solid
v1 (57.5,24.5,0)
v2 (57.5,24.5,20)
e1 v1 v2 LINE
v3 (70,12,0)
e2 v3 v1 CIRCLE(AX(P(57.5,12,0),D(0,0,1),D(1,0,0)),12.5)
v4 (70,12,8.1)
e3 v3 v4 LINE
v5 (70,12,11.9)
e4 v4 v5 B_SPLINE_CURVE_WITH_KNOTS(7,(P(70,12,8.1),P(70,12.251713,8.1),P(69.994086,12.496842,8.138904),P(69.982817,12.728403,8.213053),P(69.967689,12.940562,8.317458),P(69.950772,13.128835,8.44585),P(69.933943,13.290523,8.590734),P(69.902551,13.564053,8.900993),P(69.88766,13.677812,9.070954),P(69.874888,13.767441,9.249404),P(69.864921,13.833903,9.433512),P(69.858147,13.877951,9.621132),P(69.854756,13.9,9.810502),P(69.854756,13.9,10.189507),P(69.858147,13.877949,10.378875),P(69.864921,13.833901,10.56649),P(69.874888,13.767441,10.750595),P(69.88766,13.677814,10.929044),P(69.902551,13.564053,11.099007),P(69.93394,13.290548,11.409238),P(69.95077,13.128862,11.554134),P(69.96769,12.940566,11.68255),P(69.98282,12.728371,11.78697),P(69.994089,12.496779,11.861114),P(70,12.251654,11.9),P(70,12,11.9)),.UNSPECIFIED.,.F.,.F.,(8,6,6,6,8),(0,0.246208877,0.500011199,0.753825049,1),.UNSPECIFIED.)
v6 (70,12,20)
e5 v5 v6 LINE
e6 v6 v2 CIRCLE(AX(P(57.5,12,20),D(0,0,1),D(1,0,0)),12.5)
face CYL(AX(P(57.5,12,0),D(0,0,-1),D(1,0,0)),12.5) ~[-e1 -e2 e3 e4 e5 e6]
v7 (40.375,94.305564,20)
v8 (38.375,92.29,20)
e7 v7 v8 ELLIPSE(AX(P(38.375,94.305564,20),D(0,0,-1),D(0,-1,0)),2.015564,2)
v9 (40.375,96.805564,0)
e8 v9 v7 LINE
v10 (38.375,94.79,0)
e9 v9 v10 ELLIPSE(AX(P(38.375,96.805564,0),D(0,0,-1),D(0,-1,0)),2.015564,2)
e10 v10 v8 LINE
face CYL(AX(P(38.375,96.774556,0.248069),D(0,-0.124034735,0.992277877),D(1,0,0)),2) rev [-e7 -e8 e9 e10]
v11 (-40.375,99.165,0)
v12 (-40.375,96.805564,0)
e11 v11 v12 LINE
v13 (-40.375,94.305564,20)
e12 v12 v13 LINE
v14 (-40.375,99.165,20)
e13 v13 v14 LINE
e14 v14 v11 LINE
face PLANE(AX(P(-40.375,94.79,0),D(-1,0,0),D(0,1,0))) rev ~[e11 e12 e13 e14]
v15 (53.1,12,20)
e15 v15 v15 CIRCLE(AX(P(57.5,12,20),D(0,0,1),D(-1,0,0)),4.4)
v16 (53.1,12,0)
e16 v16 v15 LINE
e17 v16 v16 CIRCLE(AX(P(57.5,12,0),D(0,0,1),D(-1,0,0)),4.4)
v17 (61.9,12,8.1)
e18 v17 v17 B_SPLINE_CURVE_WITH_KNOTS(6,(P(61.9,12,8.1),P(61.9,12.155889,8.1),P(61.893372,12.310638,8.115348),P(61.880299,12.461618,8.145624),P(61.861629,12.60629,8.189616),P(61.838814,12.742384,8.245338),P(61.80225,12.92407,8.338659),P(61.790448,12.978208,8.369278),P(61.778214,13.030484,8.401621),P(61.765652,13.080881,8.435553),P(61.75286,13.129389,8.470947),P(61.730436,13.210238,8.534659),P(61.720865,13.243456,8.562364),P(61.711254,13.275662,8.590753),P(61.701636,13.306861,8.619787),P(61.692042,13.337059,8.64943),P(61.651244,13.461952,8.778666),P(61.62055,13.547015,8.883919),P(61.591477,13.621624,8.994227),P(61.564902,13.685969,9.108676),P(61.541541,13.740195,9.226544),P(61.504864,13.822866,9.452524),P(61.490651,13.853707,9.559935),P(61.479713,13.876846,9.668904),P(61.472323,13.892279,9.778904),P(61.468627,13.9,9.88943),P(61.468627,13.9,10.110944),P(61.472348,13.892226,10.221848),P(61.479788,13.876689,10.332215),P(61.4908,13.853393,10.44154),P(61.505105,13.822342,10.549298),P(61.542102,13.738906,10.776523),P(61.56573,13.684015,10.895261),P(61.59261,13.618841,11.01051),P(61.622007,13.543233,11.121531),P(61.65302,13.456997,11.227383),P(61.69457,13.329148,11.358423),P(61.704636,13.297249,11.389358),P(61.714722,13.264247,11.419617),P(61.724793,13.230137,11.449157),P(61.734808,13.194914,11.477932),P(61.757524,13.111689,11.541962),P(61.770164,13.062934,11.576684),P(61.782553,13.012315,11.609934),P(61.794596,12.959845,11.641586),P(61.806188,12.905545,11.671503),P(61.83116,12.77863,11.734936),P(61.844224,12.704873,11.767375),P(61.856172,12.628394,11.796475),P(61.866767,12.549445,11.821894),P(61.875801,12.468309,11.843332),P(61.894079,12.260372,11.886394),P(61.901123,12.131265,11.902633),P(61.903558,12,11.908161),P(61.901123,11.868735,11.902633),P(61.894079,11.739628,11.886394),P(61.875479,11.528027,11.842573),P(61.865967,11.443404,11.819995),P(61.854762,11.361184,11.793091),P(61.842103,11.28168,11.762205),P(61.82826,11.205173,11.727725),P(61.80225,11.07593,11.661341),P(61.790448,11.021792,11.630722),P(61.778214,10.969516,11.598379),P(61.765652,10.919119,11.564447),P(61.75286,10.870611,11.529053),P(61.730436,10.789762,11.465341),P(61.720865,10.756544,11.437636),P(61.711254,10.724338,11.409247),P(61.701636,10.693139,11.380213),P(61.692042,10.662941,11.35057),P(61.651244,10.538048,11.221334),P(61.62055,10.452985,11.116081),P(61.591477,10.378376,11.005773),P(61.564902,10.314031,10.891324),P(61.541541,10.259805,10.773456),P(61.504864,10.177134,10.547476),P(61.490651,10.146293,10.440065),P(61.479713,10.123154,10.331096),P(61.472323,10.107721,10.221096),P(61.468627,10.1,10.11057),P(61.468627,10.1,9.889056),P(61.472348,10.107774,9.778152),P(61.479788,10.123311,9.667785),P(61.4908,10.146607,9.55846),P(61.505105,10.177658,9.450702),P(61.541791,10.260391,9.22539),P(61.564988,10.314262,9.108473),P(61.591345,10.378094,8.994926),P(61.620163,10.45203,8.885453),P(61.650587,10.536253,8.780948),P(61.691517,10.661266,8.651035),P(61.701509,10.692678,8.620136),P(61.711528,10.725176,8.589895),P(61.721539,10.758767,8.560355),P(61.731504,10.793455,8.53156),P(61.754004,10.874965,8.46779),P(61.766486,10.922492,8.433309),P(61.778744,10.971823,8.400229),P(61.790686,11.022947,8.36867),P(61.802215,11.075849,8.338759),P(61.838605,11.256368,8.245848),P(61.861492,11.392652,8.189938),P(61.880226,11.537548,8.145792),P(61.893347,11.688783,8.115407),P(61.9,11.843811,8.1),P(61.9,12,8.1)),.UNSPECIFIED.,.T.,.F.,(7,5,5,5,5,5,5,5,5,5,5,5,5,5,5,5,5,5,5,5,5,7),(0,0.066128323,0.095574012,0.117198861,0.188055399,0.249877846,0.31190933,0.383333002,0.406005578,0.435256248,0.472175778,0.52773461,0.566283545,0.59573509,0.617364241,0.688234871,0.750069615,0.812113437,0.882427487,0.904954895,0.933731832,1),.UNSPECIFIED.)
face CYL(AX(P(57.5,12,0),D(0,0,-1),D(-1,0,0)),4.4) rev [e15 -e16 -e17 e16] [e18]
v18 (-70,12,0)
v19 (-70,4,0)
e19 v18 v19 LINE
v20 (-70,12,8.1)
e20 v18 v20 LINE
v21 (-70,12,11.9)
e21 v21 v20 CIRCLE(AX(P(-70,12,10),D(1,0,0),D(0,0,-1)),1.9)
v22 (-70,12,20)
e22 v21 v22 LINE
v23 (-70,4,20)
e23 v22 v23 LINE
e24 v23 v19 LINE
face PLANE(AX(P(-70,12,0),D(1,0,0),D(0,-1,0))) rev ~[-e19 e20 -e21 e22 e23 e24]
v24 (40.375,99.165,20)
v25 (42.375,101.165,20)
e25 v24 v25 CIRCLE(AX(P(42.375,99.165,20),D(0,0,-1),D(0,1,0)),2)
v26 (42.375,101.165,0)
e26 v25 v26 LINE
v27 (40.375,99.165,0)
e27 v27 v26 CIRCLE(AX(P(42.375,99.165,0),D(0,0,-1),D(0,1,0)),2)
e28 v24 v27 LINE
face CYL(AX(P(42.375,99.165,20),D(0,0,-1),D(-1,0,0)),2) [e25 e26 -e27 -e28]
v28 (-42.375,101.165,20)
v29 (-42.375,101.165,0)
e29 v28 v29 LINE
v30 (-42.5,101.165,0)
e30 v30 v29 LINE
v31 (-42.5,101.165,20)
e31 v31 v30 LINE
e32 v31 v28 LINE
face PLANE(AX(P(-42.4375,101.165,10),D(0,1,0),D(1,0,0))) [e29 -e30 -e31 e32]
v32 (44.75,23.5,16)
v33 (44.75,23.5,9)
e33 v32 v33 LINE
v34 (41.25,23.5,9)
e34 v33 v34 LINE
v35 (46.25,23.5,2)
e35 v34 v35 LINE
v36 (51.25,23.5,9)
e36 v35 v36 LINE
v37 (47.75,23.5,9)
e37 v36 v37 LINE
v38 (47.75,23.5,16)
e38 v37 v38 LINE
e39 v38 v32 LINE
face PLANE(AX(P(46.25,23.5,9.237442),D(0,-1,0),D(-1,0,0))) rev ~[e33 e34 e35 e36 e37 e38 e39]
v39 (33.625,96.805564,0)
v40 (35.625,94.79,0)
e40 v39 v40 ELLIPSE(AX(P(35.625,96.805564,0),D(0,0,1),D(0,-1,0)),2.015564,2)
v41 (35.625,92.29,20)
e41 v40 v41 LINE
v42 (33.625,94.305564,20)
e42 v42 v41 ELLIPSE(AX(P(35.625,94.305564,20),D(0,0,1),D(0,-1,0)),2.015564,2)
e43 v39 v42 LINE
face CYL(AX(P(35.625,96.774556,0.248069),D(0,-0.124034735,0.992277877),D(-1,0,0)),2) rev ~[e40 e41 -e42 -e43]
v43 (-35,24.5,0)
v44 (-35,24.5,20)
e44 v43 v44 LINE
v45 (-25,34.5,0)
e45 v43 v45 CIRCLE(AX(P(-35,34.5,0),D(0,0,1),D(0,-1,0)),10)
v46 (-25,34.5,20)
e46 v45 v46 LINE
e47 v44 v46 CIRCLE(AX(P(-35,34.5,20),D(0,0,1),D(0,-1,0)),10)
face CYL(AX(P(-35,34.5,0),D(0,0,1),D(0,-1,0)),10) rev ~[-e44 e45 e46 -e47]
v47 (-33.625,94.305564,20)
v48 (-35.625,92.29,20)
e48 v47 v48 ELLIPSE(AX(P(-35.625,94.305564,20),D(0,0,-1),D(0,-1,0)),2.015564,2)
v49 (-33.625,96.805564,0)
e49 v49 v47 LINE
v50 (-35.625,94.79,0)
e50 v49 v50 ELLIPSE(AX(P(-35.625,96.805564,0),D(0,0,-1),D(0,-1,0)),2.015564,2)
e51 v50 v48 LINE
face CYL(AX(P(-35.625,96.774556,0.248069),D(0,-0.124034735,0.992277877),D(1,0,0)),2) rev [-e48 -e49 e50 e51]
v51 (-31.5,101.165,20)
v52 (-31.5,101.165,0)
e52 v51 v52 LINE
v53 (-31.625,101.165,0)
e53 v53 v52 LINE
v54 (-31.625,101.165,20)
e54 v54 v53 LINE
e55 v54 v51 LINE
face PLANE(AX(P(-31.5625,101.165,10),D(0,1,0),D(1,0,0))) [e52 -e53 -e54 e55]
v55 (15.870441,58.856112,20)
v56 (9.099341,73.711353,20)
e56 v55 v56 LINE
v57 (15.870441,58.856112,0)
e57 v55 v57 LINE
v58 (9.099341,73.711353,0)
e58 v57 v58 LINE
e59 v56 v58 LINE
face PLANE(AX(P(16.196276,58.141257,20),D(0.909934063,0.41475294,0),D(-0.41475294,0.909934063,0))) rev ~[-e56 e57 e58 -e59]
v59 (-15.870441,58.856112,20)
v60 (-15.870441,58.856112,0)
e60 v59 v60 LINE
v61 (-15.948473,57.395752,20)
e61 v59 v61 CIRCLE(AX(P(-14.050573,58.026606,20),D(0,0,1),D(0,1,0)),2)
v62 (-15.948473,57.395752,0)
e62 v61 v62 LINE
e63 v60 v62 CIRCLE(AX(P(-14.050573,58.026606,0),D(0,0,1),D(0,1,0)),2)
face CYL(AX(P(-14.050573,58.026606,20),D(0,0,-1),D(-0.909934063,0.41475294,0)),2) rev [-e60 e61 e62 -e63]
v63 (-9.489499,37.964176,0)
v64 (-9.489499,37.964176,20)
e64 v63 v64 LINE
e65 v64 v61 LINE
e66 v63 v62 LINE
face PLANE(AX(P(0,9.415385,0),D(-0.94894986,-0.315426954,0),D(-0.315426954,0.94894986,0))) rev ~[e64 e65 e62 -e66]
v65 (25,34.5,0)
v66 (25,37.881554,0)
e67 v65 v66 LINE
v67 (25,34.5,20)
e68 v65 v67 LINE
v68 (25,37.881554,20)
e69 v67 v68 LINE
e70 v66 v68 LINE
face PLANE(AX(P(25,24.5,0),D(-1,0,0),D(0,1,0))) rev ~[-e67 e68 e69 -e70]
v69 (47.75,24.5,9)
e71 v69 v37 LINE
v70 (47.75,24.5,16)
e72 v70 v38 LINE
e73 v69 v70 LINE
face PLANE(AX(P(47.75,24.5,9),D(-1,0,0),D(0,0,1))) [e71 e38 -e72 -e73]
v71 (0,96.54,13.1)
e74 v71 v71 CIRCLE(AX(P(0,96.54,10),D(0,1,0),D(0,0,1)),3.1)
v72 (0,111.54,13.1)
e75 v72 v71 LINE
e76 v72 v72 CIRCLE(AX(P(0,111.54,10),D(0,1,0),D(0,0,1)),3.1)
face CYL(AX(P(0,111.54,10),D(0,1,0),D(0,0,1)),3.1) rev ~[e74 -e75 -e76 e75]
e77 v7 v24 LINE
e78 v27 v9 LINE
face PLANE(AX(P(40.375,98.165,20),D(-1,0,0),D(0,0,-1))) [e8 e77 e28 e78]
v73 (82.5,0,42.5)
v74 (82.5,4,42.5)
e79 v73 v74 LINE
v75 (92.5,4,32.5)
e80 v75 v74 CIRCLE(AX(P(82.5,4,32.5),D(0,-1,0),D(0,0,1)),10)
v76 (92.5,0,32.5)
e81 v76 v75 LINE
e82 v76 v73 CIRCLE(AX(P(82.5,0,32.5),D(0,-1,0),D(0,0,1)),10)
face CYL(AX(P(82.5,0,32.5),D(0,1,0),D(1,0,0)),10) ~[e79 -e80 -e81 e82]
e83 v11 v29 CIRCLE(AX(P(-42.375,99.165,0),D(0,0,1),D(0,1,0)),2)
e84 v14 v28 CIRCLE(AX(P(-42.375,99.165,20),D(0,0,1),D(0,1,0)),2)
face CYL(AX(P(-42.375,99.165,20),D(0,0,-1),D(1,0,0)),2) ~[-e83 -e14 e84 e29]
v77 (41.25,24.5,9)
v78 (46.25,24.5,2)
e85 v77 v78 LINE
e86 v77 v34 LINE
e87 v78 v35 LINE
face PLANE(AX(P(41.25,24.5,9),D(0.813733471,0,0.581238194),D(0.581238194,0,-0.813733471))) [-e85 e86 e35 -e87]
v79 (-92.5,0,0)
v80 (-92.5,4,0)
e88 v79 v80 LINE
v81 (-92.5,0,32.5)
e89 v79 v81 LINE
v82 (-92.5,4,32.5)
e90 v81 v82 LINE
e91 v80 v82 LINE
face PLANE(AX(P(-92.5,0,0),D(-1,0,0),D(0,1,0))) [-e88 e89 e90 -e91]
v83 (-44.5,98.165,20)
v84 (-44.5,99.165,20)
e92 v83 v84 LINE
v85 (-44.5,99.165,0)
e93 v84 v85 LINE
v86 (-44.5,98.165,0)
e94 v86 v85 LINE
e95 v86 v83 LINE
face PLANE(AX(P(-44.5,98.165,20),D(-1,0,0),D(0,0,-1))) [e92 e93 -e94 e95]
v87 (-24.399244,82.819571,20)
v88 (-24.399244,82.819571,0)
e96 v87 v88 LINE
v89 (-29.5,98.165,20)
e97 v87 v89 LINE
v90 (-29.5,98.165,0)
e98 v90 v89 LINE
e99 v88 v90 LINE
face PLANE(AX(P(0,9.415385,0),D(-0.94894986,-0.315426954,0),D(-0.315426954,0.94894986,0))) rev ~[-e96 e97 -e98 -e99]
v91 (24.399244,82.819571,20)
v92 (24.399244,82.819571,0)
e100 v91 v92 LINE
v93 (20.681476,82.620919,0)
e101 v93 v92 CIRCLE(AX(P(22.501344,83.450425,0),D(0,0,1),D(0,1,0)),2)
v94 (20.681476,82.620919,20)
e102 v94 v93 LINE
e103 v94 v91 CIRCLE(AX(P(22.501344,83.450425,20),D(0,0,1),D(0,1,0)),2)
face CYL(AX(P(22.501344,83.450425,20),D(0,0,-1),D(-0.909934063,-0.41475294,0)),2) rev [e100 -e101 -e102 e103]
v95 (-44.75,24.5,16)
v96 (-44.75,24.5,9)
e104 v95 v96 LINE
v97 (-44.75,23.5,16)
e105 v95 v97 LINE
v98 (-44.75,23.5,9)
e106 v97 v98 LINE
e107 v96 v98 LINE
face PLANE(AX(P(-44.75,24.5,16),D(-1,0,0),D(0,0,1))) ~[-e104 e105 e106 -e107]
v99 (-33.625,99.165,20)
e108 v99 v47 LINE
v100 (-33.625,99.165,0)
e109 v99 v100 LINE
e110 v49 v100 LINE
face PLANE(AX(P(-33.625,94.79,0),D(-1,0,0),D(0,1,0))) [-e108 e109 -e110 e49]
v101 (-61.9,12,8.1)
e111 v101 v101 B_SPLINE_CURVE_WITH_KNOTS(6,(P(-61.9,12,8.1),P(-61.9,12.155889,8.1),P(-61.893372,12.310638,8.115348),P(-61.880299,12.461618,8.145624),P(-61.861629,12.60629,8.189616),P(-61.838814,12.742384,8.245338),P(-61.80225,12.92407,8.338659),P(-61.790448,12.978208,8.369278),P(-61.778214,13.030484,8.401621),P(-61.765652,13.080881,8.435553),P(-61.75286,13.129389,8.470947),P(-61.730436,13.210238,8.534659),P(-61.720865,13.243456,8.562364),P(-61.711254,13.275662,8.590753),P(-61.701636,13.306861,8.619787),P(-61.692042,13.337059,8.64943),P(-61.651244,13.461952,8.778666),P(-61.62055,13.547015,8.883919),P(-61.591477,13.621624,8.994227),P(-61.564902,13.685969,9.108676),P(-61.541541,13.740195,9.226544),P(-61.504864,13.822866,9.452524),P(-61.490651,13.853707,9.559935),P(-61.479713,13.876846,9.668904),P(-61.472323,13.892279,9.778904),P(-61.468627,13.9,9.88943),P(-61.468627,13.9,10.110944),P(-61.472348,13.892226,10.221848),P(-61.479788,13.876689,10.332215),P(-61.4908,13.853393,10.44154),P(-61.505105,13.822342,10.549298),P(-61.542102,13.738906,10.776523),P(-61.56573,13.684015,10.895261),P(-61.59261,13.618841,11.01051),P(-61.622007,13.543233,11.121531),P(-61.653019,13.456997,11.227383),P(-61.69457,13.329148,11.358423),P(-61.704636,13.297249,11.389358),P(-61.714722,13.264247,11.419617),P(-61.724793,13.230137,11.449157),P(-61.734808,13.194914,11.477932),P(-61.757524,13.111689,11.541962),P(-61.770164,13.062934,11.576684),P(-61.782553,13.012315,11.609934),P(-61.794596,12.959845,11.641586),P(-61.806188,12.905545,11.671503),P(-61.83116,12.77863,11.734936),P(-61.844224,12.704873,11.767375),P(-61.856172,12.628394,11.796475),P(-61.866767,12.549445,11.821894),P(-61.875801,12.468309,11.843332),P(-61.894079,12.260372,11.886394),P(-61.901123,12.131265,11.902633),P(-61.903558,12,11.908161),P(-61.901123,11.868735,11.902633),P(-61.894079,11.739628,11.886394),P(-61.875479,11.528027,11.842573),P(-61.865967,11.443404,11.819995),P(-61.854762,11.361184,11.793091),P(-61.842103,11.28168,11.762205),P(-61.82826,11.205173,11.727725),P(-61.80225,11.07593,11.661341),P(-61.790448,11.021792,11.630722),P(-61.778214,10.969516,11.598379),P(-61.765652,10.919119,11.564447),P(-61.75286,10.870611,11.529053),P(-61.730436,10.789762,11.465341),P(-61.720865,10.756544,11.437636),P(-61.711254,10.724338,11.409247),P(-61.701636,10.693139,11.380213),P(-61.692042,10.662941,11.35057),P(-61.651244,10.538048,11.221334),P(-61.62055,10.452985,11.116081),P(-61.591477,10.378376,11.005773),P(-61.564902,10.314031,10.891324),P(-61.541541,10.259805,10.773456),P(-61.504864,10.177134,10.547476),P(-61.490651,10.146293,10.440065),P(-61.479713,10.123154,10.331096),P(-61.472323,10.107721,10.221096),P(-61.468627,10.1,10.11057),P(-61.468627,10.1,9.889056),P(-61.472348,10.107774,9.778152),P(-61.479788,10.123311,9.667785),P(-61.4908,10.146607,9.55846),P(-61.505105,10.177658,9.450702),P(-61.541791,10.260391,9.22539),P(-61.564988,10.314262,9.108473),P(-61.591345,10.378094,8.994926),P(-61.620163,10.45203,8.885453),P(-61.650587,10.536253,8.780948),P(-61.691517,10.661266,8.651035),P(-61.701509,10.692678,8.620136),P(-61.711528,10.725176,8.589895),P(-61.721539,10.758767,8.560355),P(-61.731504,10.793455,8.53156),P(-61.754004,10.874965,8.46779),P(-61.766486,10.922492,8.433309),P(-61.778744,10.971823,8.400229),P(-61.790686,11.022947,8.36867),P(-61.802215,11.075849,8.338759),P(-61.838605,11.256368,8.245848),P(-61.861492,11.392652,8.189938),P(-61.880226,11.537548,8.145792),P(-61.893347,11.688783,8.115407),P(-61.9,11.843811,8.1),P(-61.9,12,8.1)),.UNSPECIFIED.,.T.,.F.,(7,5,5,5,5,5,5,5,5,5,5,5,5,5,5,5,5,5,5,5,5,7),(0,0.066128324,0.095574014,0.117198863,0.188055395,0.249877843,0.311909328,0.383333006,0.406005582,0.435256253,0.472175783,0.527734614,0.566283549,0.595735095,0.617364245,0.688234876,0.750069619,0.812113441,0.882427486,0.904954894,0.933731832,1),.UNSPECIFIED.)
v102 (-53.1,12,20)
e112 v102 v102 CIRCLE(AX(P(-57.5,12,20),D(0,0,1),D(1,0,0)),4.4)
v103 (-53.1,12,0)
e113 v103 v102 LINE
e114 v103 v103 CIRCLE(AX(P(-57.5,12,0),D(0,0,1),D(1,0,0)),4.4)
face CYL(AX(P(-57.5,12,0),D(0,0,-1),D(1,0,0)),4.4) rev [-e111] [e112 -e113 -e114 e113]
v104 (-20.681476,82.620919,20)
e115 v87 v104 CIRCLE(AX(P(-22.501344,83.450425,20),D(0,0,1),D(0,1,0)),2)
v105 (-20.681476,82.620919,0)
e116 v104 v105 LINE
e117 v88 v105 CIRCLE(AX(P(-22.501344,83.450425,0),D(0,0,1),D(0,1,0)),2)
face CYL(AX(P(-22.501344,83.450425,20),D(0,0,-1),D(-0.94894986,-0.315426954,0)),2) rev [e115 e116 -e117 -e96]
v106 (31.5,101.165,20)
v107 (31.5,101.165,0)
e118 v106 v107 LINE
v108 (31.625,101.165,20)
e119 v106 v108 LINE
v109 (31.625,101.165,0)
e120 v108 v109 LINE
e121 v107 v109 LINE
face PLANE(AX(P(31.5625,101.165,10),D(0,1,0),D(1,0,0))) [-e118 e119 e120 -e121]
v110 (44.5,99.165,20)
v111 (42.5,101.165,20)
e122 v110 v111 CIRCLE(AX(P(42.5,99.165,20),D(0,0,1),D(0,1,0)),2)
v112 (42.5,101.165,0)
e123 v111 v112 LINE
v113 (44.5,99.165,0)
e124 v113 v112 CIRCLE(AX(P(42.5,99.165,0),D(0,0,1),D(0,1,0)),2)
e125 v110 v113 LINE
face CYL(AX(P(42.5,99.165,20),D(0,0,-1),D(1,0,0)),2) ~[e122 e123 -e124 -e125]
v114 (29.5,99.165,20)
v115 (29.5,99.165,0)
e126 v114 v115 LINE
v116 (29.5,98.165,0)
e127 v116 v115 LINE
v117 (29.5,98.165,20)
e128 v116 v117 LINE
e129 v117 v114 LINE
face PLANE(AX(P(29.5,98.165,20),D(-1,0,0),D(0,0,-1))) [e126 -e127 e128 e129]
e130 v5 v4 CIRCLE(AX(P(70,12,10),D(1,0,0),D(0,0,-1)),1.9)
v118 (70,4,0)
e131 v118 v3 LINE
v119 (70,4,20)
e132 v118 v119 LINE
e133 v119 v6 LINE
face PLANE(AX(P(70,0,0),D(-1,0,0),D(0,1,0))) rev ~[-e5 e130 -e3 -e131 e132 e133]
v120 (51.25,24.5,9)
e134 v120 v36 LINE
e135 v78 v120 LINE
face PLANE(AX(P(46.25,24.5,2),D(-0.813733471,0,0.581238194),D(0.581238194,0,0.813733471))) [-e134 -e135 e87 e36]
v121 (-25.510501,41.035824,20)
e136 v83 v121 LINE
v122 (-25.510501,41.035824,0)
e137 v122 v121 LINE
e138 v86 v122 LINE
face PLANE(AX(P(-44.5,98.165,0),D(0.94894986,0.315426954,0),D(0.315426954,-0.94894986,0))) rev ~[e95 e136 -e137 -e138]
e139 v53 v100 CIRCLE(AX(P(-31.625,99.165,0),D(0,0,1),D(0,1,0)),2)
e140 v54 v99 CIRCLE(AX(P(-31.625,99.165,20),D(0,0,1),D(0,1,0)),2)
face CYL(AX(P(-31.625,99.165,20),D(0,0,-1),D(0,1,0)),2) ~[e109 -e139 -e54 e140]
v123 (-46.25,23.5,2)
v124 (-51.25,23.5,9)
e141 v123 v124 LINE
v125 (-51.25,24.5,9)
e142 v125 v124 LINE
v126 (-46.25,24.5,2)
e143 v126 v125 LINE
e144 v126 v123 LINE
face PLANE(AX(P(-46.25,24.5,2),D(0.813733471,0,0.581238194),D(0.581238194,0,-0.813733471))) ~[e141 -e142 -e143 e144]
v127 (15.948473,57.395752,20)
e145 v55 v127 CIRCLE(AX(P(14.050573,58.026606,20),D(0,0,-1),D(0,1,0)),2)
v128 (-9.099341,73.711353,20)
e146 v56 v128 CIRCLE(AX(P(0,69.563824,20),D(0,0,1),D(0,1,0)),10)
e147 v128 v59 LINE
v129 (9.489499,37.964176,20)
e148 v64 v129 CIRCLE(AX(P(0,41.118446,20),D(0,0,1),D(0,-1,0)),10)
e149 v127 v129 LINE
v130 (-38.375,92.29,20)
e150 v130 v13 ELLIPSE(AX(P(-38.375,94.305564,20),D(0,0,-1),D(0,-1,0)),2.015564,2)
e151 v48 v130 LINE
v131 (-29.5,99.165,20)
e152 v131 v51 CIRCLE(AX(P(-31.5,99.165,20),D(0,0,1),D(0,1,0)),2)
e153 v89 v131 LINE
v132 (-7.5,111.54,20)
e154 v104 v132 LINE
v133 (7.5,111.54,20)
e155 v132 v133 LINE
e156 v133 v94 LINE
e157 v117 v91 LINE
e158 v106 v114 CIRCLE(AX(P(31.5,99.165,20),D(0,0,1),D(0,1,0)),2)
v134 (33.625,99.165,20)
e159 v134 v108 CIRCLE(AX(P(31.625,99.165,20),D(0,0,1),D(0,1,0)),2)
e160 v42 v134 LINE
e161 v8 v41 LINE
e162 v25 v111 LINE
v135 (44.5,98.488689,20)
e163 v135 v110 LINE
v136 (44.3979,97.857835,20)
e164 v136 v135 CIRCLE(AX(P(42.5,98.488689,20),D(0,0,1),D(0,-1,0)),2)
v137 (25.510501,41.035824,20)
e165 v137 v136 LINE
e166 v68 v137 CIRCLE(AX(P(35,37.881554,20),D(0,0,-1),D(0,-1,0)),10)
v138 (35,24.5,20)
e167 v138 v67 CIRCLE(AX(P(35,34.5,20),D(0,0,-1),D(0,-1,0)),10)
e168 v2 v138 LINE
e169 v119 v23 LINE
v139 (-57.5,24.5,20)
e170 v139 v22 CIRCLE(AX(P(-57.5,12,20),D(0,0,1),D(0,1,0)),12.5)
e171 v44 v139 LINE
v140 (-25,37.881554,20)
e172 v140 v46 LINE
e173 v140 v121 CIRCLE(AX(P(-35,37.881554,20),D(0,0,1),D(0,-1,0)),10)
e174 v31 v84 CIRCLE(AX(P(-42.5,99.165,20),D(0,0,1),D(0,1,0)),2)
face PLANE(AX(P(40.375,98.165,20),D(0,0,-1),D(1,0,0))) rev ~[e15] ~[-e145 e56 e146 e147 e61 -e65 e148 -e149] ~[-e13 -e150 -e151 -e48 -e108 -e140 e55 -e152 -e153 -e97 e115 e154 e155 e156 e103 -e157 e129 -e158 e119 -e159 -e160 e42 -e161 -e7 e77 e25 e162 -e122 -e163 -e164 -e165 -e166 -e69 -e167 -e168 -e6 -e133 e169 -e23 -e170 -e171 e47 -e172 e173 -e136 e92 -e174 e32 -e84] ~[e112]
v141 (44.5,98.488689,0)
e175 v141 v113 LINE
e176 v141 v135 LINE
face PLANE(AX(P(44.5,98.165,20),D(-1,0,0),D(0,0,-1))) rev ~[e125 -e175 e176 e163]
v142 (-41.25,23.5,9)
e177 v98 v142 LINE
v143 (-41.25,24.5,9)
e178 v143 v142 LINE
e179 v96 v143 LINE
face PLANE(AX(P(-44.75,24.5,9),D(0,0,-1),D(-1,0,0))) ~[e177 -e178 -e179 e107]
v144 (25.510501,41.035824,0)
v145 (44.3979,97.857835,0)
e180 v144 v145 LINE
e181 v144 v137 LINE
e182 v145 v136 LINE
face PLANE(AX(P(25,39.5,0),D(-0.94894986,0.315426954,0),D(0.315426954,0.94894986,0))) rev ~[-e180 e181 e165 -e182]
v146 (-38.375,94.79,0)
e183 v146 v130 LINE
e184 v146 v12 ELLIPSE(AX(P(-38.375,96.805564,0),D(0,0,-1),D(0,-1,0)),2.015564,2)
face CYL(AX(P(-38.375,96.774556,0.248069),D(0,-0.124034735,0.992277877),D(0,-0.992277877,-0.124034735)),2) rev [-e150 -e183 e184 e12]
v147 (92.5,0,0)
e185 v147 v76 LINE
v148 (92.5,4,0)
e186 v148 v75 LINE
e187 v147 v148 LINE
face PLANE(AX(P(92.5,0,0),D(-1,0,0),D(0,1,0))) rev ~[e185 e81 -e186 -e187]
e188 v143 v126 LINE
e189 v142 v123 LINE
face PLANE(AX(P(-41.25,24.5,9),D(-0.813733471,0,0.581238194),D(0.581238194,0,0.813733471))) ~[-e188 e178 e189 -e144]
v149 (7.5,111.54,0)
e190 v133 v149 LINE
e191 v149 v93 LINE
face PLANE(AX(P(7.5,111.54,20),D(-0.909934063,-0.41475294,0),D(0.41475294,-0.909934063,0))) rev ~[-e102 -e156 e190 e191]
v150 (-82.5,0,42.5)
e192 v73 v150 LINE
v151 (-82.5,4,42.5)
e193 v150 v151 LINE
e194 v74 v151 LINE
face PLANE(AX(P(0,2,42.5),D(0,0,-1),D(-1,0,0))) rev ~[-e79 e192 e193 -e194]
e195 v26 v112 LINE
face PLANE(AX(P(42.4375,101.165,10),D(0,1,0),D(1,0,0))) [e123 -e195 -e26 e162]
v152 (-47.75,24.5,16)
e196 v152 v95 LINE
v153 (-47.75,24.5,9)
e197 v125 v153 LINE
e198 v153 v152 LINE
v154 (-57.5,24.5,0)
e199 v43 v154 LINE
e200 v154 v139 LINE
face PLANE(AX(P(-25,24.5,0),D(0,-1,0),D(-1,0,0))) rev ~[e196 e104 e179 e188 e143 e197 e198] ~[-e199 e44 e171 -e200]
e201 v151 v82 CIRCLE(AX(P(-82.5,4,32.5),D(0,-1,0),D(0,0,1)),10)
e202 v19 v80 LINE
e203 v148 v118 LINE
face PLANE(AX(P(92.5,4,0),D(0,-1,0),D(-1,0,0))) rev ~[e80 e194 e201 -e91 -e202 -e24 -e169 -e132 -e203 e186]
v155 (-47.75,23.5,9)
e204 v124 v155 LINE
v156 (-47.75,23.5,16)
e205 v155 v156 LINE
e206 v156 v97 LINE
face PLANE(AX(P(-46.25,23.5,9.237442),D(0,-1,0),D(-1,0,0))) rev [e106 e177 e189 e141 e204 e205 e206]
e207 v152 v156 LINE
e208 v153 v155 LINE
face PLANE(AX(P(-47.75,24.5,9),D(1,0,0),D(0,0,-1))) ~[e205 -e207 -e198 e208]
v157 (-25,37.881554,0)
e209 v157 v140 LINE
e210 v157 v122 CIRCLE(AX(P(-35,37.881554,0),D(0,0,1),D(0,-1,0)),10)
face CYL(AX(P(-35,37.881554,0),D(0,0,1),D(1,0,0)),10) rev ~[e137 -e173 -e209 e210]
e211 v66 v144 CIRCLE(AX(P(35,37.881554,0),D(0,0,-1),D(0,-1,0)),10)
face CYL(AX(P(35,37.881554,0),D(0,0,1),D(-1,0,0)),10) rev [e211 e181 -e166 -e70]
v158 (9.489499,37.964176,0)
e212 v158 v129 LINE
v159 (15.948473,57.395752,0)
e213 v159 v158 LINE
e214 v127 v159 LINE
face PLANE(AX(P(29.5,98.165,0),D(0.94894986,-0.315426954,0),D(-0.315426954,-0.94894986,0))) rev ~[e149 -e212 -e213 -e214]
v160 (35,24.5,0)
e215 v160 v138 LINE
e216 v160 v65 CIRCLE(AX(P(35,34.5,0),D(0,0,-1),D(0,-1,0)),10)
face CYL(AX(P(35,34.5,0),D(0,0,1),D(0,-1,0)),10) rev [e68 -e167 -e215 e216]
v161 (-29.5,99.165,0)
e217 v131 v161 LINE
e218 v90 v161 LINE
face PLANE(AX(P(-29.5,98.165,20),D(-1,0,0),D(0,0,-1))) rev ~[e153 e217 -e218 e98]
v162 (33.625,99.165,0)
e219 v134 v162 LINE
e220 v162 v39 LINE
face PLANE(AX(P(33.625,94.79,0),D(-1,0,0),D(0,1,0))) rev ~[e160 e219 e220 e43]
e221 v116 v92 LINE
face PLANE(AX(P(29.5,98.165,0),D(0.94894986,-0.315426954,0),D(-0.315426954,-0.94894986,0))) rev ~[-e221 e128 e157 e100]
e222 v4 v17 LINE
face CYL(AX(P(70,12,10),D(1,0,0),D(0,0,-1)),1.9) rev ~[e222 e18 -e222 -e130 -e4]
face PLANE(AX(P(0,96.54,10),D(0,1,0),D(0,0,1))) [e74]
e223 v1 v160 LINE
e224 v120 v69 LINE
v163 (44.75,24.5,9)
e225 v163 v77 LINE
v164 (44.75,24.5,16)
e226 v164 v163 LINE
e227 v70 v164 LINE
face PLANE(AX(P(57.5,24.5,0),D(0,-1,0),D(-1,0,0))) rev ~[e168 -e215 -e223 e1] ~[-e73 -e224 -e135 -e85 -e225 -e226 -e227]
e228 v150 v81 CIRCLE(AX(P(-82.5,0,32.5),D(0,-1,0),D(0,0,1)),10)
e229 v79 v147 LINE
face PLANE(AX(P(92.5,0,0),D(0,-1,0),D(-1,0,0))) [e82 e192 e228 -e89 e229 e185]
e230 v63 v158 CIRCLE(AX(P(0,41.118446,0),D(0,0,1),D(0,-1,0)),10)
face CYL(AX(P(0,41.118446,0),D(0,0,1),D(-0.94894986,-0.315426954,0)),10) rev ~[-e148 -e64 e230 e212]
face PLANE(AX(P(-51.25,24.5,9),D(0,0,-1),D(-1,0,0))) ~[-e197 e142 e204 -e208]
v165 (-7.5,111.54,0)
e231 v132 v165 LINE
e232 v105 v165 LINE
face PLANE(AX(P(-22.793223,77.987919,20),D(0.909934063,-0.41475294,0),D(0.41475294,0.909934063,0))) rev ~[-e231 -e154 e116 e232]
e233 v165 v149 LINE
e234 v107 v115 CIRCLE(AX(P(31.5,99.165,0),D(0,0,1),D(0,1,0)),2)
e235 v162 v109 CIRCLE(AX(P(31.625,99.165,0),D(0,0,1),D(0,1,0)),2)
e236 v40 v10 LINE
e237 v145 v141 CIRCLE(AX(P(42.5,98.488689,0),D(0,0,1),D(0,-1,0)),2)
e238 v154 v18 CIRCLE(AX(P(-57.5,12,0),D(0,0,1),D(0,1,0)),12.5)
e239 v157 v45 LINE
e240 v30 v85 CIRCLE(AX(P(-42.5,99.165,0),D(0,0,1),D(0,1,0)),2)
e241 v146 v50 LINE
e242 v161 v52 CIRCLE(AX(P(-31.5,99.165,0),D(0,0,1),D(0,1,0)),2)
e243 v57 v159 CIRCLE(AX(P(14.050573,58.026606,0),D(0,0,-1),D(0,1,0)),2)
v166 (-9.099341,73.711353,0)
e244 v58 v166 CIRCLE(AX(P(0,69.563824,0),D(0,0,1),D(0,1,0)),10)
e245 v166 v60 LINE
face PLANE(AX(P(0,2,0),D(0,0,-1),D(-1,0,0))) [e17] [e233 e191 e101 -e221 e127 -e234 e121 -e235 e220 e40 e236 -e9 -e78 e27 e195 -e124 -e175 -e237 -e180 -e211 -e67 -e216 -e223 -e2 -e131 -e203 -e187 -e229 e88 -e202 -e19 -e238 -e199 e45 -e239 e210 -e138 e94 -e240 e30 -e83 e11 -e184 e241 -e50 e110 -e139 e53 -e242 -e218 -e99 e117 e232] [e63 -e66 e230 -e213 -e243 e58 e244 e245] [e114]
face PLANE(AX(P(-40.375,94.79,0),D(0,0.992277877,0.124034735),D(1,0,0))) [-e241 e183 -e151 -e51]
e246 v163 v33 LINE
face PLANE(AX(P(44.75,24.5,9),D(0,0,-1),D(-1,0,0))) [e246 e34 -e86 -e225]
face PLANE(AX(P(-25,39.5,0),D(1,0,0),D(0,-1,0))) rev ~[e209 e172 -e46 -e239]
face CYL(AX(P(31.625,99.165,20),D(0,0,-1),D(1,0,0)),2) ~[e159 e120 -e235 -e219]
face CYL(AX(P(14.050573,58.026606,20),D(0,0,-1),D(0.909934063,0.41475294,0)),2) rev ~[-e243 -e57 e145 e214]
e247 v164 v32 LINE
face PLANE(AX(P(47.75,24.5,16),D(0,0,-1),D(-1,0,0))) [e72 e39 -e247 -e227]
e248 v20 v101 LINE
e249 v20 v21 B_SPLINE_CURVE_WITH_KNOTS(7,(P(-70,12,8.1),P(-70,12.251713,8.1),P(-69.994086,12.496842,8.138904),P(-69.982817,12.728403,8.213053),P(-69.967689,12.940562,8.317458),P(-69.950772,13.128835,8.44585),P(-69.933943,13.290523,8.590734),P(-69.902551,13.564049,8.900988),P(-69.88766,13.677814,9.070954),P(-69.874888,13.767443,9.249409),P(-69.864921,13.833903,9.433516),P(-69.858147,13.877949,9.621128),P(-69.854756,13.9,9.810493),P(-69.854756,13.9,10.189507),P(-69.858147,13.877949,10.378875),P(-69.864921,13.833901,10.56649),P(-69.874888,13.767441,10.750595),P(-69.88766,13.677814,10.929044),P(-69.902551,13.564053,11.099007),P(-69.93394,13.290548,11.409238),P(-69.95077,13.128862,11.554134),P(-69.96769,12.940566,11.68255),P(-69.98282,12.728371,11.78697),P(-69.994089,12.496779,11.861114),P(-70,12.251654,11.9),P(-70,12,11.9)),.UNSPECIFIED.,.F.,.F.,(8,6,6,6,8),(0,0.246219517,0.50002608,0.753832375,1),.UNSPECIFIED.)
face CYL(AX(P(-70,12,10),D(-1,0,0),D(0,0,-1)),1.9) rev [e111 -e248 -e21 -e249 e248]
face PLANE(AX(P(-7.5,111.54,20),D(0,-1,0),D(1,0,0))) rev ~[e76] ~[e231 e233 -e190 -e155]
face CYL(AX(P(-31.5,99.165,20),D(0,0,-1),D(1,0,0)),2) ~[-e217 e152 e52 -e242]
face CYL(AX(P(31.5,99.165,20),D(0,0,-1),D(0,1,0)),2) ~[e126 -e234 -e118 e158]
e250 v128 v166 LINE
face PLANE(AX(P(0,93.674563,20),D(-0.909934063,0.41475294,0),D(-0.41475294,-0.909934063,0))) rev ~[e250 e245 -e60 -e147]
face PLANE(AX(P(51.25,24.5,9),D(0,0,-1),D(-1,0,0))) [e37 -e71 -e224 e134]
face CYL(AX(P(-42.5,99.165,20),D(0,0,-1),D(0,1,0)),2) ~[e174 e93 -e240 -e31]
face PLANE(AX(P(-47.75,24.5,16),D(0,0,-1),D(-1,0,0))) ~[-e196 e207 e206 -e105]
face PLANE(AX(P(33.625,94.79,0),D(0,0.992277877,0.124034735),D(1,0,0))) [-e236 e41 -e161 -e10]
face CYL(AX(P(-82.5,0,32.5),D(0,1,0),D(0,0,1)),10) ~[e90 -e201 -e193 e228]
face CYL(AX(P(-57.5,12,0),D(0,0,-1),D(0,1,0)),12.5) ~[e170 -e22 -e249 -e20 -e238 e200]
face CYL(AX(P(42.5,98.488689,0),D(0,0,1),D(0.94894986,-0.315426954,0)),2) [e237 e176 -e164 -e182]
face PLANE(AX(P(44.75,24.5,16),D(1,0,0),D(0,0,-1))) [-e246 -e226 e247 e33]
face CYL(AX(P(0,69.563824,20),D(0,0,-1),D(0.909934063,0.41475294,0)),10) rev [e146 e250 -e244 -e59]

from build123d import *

# Parameters (mm, degrees)
SKETCH1_R           = 4.4
BOSS_EXTRUDE1_DEPTH = 20
FILLET1_R           = 10
SKETCH2_W           = 6.75
SKETCH2_H           = 6.75
CUT_EXTRUDE1_DEPTH  = 124.17331296
SKETCH3_W           = 4.125
SKETCH3_H           = 20
BOSS_EXTRUDE2_DEPTH = 3
FILLET2_R           = 2
BOSS_EXTRUDE3_DEPTH = 20
FILLET3_R           = 10
FILLET4_R           = 2
SKETCH5_R           = 3.1
CUT_EXTRUDE2_DEPTH  = 15
SKETCH6_W           = 185
SKETCH6_H           = 4
BOSS_EXTRUDE4_DEPTH = 42.5
FILLET5_R           = 10
CUT_EXTRUDE3_DEPTH  = 1
SKETCH8_R           = 1.9
CUT_EXTRUDE4_DEPTH  = 10


with BuildPart() as part:
    # Sketch1 → Boss-Extrude1 (new body)
    with BuildSketch(Plane.XY):
        with BuildLine():
            Line((-70, 0), (70, 0))
            Line((70, 0), (70, 12))
            ThreePointArc((70, 12), (66.338834765, 20.838834765), (57.5, 24.5))
            Line((57.5, 24.5), (25, 24.5))
            Line((25, 24.5), (25, 39.5))
            Line((25, 39.5), (44.5, 98.165))
            Line((44.5, 98.165), (29.5, 98.165))
            Line((29.5, 98.165), (0, 9.415384615))
            Line((0, 9.415384615), (-29.5, 98.165))
            Line((-29.5, 98.165), (-44.5, 98.165))
            Line((-44.5, 98.165), (-25, 39.5))
            Line((-25, 39.5), (-25, 24.5))
            Line((-25, 24.5), (-57.5, 24.5))
            ThreePointArc((-57.5, 24.5), (-66.338834765, 20.838834765), (-70, 12))
            Line((-70, 12), (-70, 0))
        make_face()
        with Locations((-57.5, 12)):
            Circle(SKETCH1_R, mode=Mode.SUBTRACT)
        with Locations(Location((57.5, 12, 0), (0, 0, 180))):
            Circle(SKETCH1_R, mode=Mode.SUBTRACT)
    extrude(amount=BOSS_EXTRUDE1_DEPTH)

    # Fillet1
    fillet1_edges = [part.edges().sort_by_distance(p)[0] for p in [
        (25, 39.5, 10),
        (25, 24.5, 10),
        (-25, 24.5, 10),
        (-25, 39.5, 10),
        (0, 9.415384615, 10),
    ]]
    fillet(fillet1_edges, radius=FILLET1_R)

    # Sketch2 → Cut-Extrude1 (cut, through all, along a direction that is not the sketch's normal)
    with BuildSketch(Plane.XY):
        with Locations((37, 98.165)):
            Rectangle(SKETCH2_W, SKETCH2_H)
        with Locations((-37, 98.165)):
            Rectangle(SKETCH2_W, SKETCH2_H)
    extrude(amount=CUT_EXTRUDE1_DEPTH, dir=(0, -0.12403473458920856, 0.9922778767136676), mode=Mode.SUBTRACT)

    # Sketch3 → Boss-Extrude2 (add)
    with BuildSketch(Plane(origin=(0, 98.165, 0), x_dir=(1, 0, 0), z_dir=(0, 1, 0))):
        with Locations((42.4375, -10)):
            Rectangle(SKETCH3_W, SKETCH3_H)
        with Locations((31.5625, -10)):
            Rectangle(SKETCH3_W, SKETCH3_H)
        with Locations((-31.5625, -10)):
            Rectangle(SKETCH3_W, SKETCH3_H)
        with Locations((-42.4375, -10)):
            Rectangle(SKETCH3_W, SKETCH3_H)
    extrude(amount=BOSS_EXTRUDE2_DEPTH)

    # Fillet2
    fillet2_edges = [part.edges().sort_by_distance(p)[0] for p in [
        (-40.375, 93.54, 10),
        (-33.625, 93.54, 10),
        (44.5, 101.165, 10),
        (40.375, 101.165, 10),
        (29.5, 101.165, 10),
        (33.625, 101.165, 10),
        (-29.5, 101.165, 10),
        (-33.625, 101.165, 10),
        (-44.5, 101.165, 10),
        (-40.375, 101.165, 10),
        (44.5, 98.165, 10),
        (33.625, 93.54, 10),
        (40.375, 93.54, 10),
    ]]
    fillet(fillet2_edges, radius=FILLET2_R)

    # Sketch4 → Boss-Extrude3 (add)
    with BuildSketch(Plane.XY.offset(20)):
        Polygon((-22.793222795, 77.98791873), (-7.5, 111.54), (7.5, 111.54), (22.793222795, 77.98791873), (16.196275804, 58.141257439), (0, 93.674563227), (-16.196275804, 58.141257439), align=None)
    extrude(amount=-BOSS_EXTRUDE3_DEPTH)

    # Fillet3
    fillet3_edges = [part.edges().sort_by_distance(p)[0] for p in [
        (0, 93.674563227, 10),
    ]]
    fillet(fillet3_edges, radius=FILLET3_R)

    # Fillet4
    fillet4_edges = [part.edges().sort_by_distance(p)[0] for p in [
        (16.196275804, 58.141257439, 10),
        (22.793222795, 77.98791873, 10),
        (-22.793222795, 77.98791873, 10),
        (-16.196275804, 58.141257439, 10),
    ]]
    fillet(fillet4_edges, radius=FILLET4_R)

    # Sketch5 → Cut-Extrude2 (cut)
    with BuildSketch(Plane(origin=(0, 111.54, 0), x_dir=(1, 0, 0), z_dir=(0, 1, 0))):
        with Locations(Location((0, -10, 0), (0, 0, 270))):
            Circle(SKETCH5_R)
    extrude(amount=-CUT_EXTRUDE2_DEPTH, mode=Mode.SUBTRACT)

    # Sketch6 → Boss-Extrude4 (add)
    with BuildSketch(Plane(origin=(0, 0, 0), x_dir=(-1, 0, 0), z_dir=(0, 0, -1))):
        with Locations((0, 2)):
            Rectangle(SKETCH6_W, SKETCH6_H)
    extrude(amount=-BOSS_EXTRUDE4_DEPTH)

    # Fillet5
    fillet5_edges = [part.edges().sort_by_distance(p)[0] for p in [
        (-92.5, 2, 42.5),
        (92.5, 2, 42.5),
    ]]
    fillet(fillet5_edges, radius=FILLET5_R)

    # Sketch7 → Cut-Extrude3 (cut)
    with BuildSketch(Plane(origin=(0, 24.5, 0), x_dir=(1, 0, 0), z_dir=(0, 1, 0))):
        Polygon((41.25, -9), (46.25, -2), (51.25, -9), (47.75, -9), (47.75, -16), (44.75, -16), (44.75, -9), align=None)
    cut_extrude3 = extrude(amount=-CUT_EXTRUDE3_DEPTH, mode=Mode.SUBTRACT)

    # Sketch8 → Cut-Extrude4 (cut)
    with BuildSketch(Plane(origin=(70, 0, 0), x_dir=(0, 0, -1), z_dir=(1, 0, 0))):
        with Locations((-10, 12)):
            Circle(SKETCH8_R)
    cut_extrude4 = extrude(amount=-CUT_EXTRUDE4_DEPTH, mode=Mode.SUBTRACT)

    # Mirror1: Cut-Extrude3, Cut-Extrude4 across plane
    add(cut_extrude3.mirror(Plane(origin=(0, 0, 0), x_dir=(0, 0, 1), z_dir=(1, 0, 0))), mode=Mode.SUBTRACT)
    add(cut_extrude4.mirror(Plane(origin=(0, 0, 0), x_dir=(0, 0, 1), z_dir=(1, 0, 0))), mode=Mode.SUBTRACT)


solid = part.part
